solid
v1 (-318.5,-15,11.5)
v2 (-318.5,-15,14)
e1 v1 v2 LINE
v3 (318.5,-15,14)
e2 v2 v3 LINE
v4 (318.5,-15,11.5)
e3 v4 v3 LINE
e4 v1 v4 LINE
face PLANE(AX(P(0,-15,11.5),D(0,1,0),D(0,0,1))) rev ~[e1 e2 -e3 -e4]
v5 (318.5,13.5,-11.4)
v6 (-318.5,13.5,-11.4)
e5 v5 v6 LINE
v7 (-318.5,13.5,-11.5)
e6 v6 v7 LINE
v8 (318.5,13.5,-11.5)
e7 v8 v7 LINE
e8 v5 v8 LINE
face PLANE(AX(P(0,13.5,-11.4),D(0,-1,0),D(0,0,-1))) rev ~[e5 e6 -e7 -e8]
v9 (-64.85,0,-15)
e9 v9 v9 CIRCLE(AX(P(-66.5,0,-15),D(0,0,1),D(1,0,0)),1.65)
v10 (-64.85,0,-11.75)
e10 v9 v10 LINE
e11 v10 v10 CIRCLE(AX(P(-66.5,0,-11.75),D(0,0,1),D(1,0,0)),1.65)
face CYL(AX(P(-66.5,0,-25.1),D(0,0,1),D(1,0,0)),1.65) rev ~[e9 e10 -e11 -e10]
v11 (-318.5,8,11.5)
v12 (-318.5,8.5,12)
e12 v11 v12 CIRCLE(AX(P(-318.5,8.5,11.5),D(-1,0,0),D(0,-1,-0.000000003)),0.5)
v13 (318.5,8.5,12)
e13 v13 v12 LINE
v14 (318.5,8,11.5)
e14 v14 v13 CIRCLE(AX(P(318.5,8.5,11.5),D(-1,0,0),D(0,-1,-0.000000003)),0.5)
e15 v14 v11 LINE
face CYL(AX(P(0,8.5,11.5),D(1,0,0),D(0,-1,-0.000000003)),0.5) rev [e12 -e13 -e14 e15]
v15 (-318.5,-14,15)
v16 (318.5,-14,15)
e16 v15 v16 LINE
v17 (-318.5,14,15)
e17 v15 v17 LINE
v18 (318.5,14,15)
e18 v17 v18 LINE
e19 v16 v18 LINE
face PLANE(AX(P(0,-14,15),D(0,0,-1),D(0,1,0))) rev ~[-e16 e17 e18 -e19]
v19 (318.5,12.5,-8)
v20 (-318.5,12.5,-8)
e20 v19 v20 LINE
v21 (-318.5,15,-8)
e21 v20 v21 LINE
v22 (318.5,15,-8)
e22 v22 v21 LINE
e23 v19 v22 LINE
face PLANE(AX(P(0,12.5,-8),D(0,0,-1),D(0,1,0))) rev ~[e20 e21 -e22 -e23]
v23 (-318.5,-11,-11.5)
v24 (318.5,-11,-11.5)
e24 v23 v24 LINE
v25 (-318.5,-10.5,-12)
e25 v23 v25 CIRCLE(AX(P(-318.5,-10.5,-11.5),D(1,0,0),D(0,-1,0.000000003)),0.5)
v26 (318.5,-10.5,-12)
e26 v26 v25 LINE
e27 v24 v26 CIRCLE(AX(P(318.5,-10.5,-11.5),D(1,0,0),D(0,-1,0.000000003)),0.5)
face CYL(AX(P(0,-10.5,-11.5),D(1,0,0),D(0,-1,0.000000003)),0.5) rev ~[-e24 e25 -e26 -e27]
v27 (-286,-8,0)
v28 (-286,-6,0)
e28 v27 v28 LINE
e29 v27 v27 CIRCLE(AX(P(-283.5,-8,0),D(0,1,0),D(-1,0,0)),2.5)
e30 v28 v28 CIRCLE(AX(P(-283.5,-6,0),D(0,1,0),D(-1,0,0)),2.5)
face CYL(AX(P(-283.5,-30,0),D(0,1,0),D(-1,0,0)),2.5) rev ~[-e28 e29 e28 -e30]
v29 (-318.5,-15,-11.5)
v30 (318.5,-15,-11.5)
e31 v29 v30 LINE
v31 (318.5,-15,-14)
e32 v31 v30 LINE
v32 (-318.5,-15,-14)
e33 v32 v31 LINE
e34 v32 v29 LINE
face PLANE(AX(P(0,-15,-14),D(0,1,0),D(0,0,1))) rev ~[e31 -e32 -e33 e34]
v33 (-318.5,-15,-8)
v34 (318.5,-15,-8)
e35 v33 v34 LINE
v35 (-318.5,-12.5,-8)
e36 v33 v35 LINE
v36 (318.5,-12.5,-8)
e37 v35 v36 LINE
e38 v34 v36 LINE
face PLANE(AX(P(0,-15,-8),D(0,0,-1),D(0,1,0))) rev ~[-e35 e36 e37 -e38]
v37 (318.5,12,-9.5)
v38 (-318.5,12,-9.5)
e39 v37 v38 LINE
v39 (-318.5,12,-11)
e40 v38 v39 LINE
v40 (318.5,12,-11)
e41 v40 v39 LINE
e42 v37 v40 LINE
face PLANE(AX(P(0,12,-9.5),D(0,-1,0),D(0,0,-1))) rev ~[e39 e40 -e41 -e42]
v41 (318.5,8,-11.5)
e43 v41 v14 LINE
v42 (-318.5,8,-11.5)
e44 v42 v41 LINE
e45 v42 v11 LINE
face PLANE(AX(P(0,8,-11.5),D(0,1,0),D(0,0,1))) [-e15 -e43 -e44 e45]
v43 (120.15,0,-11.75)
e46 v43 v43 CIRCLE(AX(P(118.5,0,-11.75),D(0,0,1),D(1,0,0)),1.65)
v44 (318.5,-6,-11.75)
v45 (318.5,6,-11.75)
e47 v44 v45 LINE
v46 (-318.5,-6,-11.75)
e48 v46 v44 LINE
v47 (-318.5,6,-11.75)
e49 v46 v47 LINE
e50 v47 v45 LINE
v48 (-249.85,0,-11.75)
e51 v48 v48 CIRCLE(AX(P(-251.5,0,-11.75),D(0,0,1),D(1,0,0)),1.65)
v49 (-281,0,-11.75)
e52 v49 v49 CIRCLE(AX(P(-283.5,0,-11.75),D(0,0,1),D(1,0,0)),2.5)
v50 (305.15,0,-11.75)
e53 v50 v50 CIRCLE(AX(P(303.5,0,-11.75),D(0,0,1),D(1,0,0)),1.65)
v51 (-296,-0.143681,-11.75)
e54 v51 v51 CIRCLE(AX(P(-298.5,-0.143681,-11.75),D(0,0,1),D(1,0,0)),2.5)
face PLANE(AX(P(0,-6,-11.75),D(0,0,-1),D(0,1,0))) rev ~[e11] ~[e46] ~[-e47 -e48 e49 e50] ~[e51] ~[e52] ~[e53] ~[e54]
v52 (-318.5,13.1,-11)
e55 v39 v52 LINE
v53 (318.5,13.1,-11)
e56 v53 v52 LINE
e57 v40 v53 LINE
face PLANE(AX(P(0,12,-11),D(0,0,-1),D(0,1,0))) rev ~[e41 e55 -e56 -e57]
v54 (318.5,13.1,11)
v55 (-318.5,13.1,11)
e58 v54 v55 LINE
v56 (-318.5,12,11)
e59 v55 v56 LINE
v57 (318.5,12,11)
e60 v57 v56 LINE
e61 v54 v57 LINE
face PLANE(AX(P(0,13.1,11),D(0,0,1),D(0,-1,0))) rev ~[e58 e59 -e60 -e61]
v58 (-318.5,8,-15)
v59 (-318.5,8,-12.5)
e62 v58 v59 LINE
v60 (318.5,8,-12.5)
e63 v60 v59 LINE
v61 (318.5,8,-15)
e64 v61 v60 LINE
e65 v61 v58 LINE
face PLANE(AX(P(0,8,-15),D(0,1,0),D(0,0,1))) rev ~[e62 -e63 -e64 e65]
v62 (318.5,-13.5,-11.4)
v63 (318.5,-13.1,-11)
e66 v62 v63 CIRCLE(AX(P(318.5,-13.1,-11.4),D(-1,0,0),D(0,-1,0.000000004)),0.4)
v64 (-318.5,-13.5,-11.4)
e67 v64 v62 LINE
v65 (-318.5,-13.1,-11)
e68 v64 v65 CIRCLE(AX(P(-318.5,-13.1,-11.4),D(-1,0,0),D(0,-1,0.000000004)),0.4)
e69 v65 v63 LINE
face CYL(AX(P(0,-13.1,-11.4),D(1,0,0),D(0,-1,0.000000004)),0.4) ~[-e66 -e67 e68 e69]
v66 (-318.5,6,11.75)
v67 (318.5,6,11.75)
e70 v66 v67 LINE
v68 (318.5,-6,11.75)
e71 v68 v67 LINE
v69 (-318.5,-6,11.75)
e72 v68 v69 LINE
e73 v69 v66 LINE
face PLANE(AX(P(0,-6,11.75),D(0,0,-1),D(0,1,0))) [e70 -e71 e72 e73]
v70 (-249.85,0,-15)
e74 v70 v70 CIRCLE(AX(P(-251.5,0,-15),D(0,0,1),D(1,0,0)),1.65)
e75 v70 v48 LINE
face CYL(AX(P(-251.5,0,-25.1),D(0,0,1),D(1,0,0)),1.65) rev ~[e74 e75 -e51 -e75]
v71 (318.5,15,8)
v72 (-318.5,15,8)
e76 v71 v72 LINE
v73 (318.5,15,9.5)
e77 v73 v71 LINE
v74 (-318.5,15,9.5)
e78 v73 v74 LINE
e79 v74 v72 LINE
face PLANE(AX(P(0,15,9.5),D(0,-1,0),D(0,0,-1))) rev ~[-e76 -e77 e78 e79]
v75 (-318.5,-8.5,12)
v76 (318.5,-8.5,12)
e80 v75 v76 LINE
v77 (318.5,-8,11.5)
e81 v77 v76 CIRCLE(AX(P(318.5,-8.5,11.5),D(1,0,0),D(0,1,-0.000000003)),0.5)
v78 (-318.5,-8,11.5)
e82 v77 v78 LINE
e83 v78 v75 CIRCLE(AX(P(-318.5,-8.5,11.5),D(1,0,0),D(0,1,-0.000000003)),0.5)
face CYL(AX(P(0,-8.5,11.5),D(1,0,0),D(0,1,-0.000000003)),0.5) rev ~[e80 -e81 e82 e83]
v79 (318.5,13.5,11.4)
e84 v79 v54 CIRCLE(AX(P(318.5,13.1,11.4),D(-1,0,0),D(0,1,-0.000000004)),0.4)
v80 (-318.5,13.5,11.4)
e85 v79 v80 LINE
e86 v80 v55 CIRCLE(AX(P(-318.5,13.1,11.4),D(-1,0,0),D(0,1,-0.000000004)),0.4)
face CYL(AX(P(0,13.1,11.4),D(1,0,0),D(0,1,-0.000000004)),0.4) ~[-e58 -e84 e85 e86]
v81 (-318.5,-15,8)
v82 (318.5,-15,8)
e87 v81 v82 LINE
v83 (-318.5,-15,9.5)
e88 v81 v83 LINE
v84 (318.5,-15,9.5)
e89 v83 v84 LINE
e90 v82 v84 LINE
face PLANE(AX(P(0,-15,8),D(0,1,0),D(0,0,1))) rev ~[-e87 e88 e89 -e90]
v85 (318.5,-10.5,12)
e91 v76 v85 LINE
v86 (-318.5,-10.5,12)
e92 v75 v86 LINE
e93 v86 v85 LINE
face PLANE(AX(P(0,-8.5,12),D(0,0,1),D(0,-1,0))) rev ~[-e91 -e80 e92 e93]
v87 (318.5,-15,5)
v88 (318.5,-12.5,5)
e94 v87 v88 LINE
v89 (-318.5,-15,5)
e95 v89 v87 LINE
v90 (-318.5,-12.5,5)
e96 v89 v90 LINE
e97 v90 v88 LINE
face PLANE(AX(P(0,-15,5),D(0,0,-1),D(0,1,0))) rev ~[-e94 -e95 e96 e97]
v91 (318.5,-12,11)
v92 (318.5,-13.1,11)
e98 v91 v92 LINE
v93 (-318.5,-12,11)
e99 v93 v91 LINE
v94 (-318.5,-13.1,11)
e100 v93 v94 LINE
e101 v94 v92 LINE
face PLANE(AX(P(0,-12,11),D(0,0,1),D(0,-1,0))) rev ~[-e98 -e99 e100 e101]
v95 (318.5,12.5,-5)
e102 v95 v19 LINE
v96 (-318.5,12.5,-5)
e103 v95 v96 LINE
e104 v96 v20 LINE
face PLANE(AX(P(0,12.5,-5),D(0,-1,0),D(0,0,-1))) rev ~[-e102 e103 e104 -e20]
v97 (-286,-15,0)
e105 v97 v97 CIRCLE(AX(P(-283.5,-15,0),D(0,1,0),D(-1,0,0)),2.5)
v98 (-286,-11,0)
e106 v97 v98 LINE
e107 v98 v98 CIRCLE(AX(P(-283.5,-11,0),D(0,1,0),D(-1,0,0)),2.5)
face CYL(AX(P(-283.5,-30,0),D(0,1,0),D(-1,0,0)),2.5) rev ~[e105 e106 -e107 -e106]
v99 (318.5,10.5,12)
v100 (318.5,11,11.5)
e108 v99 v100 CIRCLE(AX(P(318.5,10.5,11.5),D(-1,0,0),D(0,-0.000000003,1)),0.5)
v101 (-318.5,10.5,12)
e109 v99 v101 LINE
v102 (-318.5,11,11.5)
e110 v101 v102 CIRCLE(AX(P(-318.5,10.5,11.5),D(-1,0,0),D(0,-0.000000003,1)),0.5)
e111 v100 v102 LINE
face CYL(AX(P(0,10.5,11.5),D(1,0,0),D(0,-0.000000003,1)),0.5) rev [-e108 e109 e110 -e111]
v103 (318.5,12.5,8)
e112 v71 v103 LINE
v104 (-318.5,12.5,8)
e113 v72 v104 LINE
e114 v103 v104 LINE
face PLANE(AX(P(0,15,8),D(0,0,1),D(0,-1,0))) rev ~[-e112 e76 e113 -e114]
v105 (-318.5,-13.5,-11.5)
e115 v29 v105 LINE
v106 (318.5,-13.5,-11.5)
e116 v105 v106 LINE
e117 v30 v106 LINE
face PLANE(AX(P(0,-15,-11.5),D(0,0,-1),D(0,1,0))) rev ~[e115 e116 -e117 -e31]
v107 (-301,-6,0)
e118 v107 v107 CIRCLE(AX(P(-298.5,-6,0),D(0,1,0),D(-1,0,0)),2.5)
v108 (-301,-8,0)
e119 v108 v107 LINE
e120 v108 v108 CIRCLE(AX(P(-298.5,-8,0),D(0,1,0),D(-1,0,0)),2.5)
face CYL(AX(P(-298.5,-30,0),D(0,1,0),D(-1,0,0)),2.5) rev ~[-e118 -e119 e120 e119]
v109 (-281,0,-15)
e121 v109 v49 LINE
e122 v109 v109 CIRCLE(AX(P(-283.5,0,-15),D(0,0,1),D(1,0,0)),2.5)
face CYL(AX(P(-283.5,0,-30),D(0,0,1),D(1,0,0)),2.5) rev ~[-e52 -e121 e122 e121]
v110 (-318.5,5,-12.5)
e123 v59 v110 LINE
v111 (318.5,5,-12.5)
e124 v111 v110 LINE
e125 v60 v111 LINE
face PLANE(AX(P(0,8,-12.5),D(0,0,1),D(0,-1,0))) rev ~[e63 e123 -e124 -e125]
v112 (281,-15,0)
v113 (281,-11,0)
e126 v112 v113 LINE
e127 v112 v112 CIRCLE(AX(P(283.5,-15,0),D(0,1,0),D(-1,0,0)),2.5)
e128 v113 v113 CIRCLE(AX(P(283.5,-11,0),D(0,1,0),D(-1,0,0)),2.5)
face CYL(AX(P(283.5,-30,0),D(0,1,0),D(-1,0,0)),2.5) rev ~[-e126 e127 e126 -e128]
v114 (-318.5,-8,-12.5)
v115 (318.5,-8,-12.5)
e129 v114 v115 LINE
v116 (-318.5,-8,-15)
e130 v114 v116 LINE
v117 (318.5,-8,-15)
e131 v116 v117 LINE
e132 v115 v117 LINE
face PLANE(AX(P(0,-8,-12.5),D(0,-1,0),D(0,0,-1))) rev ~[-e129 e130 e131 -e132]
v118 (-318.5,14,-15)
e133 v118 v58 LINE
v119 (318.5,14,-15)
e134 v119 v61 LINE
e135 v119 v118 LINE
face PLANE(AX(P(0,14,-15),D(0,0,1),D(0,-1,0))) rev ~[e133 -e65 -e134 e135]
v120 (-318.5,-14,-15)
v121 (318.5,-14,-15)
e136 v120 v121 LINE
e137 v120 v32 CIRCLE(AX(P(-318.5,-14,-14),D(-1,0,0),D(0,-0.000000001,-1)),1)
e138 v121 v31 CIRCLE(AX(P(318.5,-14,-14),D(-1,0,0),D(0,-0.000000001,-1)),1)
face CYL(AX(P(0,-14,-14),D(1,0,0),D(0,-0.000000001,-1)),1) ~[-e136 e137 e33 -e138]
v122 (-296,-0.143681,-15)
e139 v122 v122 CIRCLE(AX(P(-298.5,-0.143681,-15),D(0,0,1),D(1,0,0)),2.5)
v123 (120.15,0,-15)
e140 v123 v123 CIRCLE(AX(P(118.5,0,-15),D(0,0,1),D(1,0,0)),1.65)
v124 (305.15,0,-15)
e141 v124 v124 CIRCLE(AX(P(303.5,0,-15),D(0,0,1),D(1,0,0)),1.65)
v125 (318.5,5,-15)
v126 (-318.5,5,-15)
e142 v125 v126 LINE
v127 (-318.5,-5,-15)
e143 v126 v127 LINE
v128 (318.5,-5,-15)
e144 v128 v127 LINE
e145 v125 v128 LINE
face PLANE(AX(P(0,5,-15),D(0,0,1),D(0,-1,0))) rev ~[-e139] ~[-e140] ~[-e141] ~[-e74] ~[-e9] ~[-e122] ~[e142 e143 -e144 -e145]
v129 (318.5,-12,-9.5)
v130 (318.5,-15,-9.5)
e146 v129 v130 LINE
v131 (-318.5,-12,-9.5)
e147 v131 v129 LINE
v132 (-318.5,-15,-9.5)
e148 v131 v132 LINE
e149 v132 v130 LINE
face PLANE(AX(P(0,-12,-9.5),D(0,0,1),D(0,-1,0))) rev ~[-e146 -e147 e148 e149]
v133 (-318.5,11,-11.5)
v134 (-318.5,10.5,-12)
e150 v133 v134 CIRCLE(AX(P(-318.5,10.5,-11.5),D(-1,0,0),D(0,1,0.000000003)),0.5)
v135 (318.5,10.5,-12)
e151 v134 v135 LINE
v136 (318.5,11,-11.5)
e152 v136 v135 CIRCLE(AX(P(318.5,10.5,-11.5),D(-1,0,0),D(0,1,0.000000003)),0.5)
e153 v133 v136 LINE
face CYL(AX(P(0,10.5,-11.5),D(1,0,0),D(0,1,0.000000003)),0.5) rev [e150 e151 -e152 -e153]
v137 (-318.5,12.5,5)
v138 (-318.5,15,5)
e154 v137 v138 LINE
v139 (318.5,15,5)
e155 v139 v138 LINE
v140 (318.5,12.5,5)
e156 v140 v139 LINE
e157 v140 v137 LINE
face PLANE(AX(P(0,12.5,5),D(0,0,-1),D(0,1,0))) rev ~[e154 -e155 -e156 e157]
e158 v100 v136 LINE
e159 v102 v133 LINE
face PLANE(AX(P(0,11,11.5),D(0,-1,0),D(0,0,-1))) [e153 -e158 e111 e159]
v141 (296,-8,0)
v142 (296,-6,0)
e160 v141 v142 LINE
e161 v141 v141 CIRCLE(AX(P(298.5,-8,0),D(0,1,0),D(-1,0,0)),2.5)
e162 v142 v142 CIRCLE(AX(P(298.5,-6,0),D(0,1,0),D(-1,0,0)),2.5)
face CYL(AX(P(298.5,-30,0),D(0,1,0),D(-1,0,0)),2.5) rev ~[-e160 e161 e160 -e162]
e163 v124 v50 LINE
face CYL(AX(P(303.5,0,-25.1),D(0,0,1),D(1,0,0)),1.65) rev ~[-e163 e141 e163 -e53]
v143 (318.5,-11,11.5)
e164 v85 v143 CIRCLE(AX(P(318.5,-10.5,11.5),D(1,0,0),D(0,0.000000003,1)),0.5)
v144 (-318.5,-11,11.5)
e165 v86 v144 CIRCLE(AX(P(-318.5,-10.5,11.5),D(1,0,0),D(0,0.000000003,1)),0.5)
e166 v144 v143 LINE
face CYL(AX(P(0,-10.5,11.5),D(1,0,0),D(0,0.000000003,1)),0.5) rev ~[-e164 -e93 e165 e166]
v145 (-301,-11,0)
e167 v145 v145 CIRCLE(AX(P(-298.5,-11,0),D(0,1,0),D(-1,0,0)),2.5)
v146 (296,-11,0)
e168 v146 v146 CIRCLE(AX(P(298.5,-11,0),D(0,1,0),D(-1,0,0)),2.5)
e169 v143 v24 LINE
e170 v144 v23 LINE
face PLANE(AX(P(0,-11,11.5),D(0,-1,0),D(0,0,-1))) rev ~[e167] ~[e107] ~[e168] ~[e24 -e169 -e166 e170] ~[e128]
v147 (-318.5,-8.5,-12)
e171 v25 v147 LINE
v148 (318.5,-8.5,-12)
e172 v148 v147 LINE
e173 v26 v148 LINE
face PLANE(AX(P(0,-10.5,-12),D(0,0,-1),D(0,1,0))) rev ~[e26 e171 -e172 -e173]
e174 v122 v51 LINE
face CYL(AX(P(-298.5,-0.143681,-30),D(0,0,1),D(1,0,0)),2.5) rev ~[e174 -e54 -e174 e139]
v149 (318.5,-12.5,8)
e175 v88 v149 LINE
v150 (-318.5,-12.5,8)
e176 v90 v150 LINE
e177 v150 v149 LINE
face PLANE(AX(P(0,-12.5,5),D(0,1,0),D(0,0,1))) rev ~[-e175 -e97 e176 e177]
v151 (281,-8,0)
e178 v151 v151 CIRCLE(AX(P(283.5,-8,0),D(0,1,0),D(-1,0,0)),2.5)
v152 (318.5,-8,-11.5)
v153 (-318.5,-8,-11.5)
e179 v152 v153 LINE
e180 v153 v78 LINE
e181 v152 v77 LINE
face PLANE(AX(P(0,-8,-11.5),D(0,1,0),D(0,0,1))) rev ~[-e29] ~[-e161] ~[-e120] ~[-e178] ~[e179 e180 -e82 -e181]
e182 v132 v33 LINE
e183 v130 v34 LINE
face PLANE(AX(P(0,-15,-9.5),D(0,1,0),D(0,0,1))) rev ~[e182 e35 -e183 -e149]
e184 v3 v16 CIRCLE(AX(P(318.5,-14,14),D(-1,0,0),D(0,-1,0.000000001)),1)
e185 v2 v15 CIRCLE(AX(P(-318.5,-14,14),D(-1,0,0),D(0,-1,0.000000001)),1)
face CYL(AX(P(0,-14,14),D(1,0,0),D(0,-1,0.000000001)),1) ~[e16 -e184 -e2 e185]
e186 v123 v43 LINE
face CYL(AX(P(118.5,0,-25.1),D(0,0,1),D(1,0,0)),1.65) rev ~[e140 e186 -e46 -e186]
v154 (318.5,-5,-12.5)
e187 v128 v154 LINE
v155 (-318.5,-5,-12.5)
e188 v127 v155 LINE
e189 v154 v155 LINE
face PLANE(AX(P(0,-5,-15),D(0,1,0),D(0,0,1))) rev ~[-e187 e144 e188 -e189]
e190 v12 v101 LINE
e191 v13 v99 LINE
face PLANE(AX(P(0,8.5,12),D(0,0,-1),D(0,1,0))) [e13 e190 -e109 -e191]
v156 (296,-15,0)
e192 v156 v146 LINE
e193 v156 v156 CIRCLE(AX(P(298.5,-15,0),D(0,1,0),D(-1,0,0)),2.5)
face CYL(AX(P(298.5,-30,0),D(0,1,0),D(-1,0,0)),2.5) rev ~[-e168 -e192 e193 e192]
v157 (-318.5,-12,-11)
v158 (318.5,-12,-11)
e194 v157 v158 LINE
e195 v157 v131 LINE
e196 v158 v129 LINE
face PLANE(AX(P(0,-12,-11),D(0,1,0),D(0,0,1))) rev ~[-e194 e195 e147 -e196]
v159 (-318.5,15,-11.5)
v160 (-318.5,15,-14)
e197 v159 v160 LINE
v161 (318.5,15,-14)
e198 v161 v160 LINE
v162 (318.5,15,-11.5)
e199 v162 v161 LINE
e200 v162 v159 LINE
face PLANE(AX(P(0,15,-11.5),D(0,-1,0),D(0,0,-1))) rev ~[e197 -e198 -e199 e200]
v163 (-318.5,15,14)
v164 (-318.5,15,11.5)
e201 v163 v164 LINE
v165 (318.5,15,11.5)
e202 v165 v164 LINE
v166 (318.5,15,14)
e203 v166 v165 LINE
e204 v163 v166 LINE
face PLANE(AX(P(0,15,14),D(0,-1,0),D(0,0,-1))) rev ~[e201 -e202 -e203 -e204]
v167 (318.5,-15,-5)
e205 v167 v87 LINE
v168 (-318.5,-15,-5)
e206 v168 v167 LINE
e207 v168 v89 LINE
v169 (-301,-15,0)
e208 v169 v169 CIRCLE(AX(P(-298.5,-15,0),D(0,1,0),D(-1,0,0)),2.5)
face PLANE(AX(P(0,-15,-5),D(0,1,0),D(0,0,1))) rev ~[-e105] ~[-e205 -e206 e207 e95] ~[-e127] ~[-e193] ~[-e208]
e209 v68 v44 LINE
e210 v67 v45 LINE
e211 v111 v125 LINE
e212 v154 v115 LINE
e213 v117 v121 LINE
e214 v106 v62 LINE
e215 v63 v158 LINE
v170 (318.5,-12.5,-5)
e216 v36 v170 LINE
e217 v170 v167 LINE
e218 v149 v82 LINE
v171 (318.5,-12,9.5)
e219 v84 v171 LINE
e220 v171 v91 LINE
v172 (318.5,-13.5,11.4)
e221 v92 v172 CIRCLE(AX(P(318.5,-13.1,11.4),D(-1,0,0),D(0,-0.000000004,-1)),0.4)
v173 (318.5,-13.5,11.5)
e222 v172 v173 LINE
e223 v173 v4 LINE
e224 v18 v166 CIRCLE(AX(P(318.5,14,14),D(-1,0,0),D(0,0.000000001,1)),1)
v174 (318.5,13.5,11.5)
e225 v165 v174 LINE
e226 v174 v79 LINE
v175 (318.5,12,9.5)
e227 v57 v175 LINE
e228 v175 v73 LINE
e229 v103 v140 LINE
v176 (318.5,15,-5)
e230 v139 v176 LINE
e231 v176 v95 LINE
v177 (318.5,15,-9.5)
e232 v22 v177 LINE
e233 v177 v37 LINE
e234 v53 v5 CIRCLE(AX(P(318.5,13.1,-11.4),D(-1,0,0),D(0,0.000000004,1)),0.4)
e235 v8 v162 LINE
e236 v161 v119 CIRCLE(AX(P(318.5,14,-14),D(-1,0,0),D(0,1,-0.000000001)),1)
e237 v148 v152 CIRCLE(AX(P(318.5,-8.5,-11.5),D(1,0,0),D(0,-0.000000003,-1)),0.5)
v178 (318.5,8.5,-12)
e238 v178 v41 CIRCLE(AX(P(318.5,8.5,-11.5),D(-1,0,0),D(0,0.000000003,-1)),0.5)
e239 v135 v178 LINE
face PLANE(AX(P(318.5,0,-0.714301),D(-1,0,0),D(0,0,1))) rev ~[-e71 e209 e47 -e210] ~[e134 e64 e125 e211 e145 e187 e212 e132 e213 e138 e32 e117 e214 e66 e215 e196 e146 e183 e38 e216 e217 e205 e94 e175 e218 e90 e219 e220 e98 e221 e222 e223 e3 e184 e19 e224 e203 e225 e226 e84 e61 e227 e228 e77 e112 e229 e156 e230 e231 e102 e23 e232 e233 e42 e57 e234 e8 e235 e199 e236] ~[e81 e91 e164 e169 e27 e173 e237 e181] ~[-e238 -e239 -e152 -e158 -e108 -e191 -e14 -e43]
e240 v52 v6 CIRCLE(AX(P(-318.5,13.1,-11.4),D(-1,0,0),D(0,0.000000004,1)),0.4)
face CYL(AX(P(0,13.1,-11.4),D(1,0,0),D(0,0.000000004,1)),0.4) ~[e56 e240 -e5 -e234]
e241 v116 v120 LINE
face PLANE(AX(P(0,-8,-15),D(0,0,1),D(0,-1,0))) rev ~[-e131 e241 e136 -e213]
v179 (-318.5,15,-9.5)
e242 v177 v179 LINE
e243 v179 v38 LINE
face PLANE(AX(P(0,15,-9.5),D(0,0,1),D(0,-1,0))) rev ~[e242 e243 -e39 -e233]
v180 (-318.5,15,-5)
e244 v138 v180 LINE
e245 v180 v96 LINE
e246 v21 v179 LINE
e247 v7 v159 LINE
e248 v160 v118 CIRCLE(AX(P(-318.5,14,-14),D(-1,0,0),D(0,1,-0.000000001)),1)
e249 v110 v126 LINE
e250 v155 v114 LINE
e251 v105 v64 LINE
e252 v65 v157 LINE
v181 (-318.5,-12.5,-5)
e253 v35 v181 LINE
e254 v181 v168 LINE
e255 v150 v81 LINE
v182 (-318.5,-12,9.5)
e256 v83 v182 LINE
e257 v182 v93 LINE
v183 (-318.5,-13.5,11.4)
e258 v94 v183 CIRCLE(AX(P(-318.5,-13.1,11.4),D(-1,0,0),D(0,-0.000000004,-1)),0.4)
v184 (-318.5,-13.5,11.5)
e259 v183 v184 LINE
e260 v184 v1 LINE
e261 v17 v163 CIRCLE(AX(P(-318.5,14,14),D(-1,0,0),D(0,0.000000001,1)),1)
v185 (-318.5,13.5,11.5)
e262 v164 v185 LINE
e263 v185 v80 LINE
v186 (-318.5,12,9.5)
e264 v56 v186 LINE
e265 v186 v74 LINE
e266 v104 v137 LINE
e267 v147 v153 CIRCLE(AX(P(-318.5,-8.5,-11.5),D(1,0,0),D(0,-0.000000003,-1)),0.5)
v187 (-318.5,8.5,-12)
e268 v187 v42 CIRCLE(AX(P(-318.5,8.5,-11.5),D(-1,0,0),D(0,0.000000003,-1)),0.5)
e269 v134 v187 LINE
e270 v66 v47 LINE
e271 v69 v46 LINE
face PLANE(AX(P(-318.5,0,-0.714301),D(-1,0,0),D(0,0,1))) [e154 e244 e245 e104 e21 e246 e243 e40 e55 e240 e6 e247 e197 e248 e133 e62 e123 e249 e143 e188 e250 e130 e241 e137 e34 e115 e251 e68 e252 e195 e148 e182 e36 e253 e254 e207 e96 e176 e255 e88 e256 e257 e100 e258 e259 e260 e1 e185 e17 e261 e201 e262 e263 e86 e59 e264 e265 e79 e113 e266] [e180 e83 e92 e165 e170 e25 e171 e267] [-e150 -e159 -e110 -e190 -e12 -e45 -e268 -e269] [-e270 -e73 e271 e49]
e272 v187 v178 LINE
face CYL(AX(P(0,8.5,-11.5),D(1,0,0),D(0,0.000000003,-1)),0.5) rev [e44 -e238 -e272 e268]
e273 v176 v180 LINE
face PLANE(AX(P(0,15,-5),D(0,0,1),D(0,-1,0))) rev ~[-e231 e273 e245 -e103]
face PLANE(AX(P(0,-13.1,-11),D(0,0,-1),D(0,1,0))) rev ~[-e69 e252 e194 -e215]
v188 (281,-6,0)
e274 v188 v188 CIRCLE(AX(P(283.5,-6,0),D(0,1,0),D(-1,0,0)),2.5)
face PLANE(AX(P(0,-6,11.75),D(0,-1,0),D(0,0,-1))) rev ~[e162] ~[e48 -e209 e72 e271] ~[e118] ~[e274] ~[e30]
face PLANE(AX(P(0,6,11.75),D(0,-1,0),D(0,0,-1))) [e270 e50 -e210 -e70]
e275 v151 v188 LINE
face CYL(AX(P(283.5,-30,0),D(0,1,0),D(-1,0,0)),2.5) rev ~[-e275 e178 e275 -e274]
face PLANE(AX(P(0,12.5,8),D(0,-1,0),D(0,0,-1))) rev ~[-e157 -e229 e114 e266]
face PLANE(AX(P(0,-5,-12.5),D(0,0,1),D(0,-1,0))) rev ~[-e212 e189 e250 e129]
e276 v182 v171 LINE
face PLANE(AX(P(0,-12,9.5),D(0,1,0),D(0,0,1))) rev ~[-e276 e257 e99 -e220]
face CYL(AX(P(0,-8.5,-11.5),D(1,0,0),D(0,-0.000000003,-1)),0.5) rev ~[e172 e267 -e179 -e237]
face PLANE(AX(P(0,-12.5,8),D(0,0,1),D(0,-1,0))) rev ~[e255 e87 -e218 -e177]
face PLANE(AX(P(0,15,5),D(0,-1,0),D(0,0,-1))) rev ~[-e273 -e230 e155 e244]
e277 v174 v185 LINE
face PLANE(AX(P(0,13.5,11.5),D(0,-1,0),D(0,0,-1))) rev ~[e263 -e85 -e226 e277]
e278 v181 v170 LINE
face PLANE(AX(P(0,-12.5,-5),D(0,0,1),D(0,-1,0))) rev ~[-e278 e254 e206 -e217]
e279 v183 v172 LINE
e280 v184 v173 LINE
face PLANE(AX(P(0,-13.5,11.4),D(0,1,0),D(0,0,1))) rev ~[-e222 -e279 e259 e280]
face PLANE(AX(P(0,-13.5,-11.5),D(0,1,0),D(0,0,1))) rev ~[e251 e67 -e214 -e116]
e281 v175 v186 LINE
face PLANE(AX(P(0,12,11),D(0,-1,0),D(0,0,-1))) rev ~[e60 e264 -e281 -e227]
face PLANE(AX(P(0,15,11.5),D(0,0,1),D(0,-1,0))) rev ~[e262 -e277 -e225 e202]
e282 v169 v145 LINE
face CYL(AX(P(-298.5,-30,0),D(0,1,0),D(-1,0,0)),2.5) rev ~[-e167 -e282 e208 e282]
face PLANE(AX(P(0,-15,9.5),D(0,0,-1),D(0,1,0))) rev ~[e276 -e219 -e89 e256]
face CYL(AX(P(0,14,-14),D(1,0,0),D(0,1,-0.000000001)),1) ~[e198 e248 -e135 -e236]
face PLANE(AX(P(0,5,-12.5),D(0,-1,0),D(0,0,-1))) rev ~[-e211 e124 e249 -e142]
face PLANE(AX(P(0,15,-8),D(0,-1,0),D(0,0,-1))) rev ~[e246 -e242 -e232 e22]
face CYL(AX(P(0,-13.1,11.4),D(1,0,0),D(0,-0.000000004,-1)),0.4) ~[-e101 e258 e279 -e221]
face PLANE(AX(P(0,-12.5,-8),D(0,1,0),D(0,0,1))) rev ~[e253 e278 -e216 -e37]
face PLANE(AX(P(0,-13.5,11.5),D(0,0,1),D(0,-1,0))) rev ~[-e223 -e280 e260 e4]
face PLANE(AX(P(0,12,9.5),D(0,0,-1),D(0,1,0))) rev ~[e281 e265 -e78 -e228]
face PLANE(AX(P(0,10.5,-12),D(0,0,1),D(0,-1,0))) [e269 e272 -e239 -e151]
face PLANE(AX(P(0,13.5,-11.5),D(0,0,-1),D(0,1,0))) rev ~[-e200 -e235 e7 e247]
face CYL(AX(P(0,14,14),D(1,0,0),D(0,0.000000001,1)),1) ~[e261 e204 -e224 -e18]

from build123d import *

# Parameters (mm, degrees)
SKETCH_1_W             = 23.5
SKETCH_1_H             = 12
EXTRUDE_1_DEPTH        = 318.5
HOLE_WIZARD_M6_1_D     = 5
HOLE_WIZARD_M6_1_DEPTH = 15
HOLE_WIZARD_M6_1_TIP   = 1.502151548
HOLE_WIZARD_M6_2_D     = 5
HOLE_WIZARD_M6_2_DEPTH = 15
HOLE_WIZARD_M6_2_TIP   = 1.502151548
HOLE_WIZARD_M4_1_D     = 3.3
HOLE_WIZARD_M4_1_DEPTH = 10.1
HOLE_WIZARD_M4_1_TIP   = 0.991420021


with BuildPart() as part:
    # 草图1 → 凸台-拉伸1 (new, symmetric)
    with BuildSketch(Plane(origin=(0, 0, 0), x_dir=(0, 0, -1), z_dir=(1, 0, 0))):
        with BuildLine():
            Line((-14, 15), (-11.5, 15))
            Line((-11.5, 15), (-11.5, 13.5))
            Line((-11.5, 13.5), (-11.4, 13.5))
            ThreePointArc((-11.4, 13.5), (-11.117157288, 13.382842712), (-11, 13.1))
            Line((-11, 13.1), (-11, 12))
            Line((-11, 12), (-9.5, 12))
            Line((-9.5, 12), (-9.5, 15))
            Line((-9.5, 15), (-8, 15))
            Line((-8, 15), (-8, 12.5))
            Line((-8, 12.5), (-5, 12.5))
            Line((-5, 12.5), (-5, 15))
            Line((-5, 15), (5, 15))
            Line((5, 15), (5, 12.5))
            Line((5, 12.5), (8, 12.5))
            Line((8, 12.5), (8, 15))
            Line((8, 15), (9.5, 15))
            Line((9.5, 15), (9.5, 12))
            Line((9.5, 12), (11, 12))
            Line((11, 12), (11, 13.1))
            ThreePointArc((11, 13.1), (11.117157288, 13.382842712), (11.4, 13.5))
            Line((11.4, 13.5), (11.5, 13.5))
            Line((11.5, 13.5), (11.5, 15))
            Line((11.5, 15), (14, 15))
            ThreePointArc((14, 15), (14.707106781, 14.707106781), (15, 14))
            Line((15, 14), (15, 8))
            Line((15, 8), (12.5, 8))
            Line((12.5, 8), (12.5, 5))
            Line((12.5, 5), (15, 5))
            Line((15, 5), (15, -5))
            Line((15, -5), (12.5, -5))
            Line((12.5, -5), (12.5, -8))
            Line((12.5, -8), (15, -8))
            Line((15, -8), (15, -14))
            ThreePointArc((15, -14), (14.707106781, -14.707106781), (14, -15))
            Line((14, -15), (11.5, -15))
            Line((11.5, -15), (11.5, -13.5))
            Line((11.5, -13.5), (11.4, -13.5))
            ThreePointArc((11.4, -13.5), (11.117157288, -13.382842712), (11, -13.1))
            Line((11, -13.1), (11, -12))
            Line((11, -12), (9.5, -12))
            Line((9.5, -12), (9.5, -15))
            Line((9.5, -15), (8, -15))
            Line((8, -15), (8, -12.5))
            Line((8, -12.5), (5, -12.5))
            Line((5, -12.5), (5, -15))
            Line((5, -15), (-5, -15))
            Line((-5, -15), (-5, -12.5))
            Line((-5, -12.5), (-8, -12.5))
            Line((-8, -12.5), (-8, -15))
            Line((-8, -15), (-9.5, -15))
            Line((-9.5, -15), (-9.5, -12))
            Line((-9.5, -12), (-11, -12))
            Line((-11, -12), (-11, -13.1))
            ThreePointArc((-11, -13.1), (-11.117157288, -13.382842712), (-11.4, -13.5))
            Line((-11.4, -13.5), (-11.5, -13.5))
            Line((-11.5, -13.5), (-11.5, -15))
            Line((-11.5, -15), (-14, -15))
            ThreePointArc((-14, -15), (-14.707106781, -14.707106781), (-15, -14))
            Line((-15, -14), (-15, 14))
            ThreePointArc((-15, 14), (-14.707106781, 14.707106781), (-14, 15))
        make_face()
        with BuildLine():
            Line((12, -10.5), (12, -8.5))
            ThreePointArc((12, -8.5), (11.853553391, -8.146446609), (11.5, -8))
            Line((11.5, -8), (-11.5, -8))
            ThreePointArc((-11.5, -8), (-11.853553391, -8.146446609), (-12, -8.5))
            Line((-12, -8.5), (-12, -10.5))
            ThreePointArc((-12, -10.5), (-11.853553391, -10.853553391), (-11.5, -11))
            Line((-11.5, -11), (11.5, -11))
            ThreePointArc((11.5, -11), (11.853553391, -10.853553391), (12, -10.5))
        make_face(mode=Mode.SUBTRACT)
        with BuildLine():
            Line((-11.5, 11), (11.5, 11))
            ThreePointArc((11.5, 11), (11.853553391, 10.853553391), (12, 10.5))
            Line((12, 10.5), (12, 8.5))
            ThreePointArc((12, 8.5), (11.853553391, 8.146446609), (11.5, 8))
            Line((11.5, 8), (-11.5, 8))
            ThreePointArc((-11.5, 8), (-11.853553391, 8.146446609), (-12, 8.5))
            Line((-12, 8.5), (-12, 10.5))
            ThreePointArc((-12, 10.5), (-11.853553391, 10.853553391), (-11.5, 11))
        make_face(mode=Mode.SUBTRACT)
        Rectangle(SKETCH_1_W, SKETCH_1_H, mode=Mode.SUBTRACT)
    extrude(amount=EXTRUDE_1_DEPTH, both=True)

    # M6 螺纹孔1
    with Locations(Plane(origin=(0, 0, -15), x_dir=(-1, 0, 0), z_dir=(0, 0, -1))):
        with Locations((298.5, -0.143680977), (283.5, 0)):
            Hole(HOLE_WIZARD_M6_1_D / 2, depth=HOLE_WIZARD_M6_1_DEPTH)
            with Locations((0, 0, -(HOLE_WIZARD_M6_1_DEPTH + HOLE_WIZARD_M6_1_TIP / 2))):  # 118° drill point
                Cone(0, HOLE_WIZARD_M6_1_D / 2, HOLE_WIZARD_M6_1_TIP, mode=Mode.SUBTRACT)

    # M6 螺纹孔2
    with Locations(Plane.XZ.offset(15)):
        with Locations((-298.5, 0), (-283.5, 0), (283.5, 0), (298.5, 0)):
            Hole(HOLE_WIZARD_M6_2_D / 2, depth=HOLE_WIZARD_M6_2_DEPTH)
            with Locations((0, 0, -(HOLE_WIZARD_M6_2_DEPTH + HOLE_WIZARD_M6_2_TIP / 2))):  # 118° drill point
                Cone(0, HOLE_WIZARD_M6_2_D / 2, HOLE_WIZARD_M6_2_TIP, mode=Mode.SUBTRACT)

    # M4 螺纹孔1
    with Locations(Plane(origin=(0, 0, -15), x_dir=(-1, 0, 0), z_dir=(0, 0, -1))):
        with Locations((-303.5, 0), (-118.5, 0), (66.5, 0), (251.5, 0)):
            Hole(HOLE_WIZARD_M4_1_D / 2, depth=HOLE_WIZARD_M4_1_DEPTH)
            with Locations((0, 0, -(HOLE_WIZARD_M4_1_DEPTH + HOLE_WIZARD_M4_1_TIP / 2))):  # 118° drill point
                Cone(0, HOLE_WIZARD_M4_1_D / 2, HOLE_WIZARD_M4_1_TIP, mode=Mode.SUBTRACT)


solid = part.part
